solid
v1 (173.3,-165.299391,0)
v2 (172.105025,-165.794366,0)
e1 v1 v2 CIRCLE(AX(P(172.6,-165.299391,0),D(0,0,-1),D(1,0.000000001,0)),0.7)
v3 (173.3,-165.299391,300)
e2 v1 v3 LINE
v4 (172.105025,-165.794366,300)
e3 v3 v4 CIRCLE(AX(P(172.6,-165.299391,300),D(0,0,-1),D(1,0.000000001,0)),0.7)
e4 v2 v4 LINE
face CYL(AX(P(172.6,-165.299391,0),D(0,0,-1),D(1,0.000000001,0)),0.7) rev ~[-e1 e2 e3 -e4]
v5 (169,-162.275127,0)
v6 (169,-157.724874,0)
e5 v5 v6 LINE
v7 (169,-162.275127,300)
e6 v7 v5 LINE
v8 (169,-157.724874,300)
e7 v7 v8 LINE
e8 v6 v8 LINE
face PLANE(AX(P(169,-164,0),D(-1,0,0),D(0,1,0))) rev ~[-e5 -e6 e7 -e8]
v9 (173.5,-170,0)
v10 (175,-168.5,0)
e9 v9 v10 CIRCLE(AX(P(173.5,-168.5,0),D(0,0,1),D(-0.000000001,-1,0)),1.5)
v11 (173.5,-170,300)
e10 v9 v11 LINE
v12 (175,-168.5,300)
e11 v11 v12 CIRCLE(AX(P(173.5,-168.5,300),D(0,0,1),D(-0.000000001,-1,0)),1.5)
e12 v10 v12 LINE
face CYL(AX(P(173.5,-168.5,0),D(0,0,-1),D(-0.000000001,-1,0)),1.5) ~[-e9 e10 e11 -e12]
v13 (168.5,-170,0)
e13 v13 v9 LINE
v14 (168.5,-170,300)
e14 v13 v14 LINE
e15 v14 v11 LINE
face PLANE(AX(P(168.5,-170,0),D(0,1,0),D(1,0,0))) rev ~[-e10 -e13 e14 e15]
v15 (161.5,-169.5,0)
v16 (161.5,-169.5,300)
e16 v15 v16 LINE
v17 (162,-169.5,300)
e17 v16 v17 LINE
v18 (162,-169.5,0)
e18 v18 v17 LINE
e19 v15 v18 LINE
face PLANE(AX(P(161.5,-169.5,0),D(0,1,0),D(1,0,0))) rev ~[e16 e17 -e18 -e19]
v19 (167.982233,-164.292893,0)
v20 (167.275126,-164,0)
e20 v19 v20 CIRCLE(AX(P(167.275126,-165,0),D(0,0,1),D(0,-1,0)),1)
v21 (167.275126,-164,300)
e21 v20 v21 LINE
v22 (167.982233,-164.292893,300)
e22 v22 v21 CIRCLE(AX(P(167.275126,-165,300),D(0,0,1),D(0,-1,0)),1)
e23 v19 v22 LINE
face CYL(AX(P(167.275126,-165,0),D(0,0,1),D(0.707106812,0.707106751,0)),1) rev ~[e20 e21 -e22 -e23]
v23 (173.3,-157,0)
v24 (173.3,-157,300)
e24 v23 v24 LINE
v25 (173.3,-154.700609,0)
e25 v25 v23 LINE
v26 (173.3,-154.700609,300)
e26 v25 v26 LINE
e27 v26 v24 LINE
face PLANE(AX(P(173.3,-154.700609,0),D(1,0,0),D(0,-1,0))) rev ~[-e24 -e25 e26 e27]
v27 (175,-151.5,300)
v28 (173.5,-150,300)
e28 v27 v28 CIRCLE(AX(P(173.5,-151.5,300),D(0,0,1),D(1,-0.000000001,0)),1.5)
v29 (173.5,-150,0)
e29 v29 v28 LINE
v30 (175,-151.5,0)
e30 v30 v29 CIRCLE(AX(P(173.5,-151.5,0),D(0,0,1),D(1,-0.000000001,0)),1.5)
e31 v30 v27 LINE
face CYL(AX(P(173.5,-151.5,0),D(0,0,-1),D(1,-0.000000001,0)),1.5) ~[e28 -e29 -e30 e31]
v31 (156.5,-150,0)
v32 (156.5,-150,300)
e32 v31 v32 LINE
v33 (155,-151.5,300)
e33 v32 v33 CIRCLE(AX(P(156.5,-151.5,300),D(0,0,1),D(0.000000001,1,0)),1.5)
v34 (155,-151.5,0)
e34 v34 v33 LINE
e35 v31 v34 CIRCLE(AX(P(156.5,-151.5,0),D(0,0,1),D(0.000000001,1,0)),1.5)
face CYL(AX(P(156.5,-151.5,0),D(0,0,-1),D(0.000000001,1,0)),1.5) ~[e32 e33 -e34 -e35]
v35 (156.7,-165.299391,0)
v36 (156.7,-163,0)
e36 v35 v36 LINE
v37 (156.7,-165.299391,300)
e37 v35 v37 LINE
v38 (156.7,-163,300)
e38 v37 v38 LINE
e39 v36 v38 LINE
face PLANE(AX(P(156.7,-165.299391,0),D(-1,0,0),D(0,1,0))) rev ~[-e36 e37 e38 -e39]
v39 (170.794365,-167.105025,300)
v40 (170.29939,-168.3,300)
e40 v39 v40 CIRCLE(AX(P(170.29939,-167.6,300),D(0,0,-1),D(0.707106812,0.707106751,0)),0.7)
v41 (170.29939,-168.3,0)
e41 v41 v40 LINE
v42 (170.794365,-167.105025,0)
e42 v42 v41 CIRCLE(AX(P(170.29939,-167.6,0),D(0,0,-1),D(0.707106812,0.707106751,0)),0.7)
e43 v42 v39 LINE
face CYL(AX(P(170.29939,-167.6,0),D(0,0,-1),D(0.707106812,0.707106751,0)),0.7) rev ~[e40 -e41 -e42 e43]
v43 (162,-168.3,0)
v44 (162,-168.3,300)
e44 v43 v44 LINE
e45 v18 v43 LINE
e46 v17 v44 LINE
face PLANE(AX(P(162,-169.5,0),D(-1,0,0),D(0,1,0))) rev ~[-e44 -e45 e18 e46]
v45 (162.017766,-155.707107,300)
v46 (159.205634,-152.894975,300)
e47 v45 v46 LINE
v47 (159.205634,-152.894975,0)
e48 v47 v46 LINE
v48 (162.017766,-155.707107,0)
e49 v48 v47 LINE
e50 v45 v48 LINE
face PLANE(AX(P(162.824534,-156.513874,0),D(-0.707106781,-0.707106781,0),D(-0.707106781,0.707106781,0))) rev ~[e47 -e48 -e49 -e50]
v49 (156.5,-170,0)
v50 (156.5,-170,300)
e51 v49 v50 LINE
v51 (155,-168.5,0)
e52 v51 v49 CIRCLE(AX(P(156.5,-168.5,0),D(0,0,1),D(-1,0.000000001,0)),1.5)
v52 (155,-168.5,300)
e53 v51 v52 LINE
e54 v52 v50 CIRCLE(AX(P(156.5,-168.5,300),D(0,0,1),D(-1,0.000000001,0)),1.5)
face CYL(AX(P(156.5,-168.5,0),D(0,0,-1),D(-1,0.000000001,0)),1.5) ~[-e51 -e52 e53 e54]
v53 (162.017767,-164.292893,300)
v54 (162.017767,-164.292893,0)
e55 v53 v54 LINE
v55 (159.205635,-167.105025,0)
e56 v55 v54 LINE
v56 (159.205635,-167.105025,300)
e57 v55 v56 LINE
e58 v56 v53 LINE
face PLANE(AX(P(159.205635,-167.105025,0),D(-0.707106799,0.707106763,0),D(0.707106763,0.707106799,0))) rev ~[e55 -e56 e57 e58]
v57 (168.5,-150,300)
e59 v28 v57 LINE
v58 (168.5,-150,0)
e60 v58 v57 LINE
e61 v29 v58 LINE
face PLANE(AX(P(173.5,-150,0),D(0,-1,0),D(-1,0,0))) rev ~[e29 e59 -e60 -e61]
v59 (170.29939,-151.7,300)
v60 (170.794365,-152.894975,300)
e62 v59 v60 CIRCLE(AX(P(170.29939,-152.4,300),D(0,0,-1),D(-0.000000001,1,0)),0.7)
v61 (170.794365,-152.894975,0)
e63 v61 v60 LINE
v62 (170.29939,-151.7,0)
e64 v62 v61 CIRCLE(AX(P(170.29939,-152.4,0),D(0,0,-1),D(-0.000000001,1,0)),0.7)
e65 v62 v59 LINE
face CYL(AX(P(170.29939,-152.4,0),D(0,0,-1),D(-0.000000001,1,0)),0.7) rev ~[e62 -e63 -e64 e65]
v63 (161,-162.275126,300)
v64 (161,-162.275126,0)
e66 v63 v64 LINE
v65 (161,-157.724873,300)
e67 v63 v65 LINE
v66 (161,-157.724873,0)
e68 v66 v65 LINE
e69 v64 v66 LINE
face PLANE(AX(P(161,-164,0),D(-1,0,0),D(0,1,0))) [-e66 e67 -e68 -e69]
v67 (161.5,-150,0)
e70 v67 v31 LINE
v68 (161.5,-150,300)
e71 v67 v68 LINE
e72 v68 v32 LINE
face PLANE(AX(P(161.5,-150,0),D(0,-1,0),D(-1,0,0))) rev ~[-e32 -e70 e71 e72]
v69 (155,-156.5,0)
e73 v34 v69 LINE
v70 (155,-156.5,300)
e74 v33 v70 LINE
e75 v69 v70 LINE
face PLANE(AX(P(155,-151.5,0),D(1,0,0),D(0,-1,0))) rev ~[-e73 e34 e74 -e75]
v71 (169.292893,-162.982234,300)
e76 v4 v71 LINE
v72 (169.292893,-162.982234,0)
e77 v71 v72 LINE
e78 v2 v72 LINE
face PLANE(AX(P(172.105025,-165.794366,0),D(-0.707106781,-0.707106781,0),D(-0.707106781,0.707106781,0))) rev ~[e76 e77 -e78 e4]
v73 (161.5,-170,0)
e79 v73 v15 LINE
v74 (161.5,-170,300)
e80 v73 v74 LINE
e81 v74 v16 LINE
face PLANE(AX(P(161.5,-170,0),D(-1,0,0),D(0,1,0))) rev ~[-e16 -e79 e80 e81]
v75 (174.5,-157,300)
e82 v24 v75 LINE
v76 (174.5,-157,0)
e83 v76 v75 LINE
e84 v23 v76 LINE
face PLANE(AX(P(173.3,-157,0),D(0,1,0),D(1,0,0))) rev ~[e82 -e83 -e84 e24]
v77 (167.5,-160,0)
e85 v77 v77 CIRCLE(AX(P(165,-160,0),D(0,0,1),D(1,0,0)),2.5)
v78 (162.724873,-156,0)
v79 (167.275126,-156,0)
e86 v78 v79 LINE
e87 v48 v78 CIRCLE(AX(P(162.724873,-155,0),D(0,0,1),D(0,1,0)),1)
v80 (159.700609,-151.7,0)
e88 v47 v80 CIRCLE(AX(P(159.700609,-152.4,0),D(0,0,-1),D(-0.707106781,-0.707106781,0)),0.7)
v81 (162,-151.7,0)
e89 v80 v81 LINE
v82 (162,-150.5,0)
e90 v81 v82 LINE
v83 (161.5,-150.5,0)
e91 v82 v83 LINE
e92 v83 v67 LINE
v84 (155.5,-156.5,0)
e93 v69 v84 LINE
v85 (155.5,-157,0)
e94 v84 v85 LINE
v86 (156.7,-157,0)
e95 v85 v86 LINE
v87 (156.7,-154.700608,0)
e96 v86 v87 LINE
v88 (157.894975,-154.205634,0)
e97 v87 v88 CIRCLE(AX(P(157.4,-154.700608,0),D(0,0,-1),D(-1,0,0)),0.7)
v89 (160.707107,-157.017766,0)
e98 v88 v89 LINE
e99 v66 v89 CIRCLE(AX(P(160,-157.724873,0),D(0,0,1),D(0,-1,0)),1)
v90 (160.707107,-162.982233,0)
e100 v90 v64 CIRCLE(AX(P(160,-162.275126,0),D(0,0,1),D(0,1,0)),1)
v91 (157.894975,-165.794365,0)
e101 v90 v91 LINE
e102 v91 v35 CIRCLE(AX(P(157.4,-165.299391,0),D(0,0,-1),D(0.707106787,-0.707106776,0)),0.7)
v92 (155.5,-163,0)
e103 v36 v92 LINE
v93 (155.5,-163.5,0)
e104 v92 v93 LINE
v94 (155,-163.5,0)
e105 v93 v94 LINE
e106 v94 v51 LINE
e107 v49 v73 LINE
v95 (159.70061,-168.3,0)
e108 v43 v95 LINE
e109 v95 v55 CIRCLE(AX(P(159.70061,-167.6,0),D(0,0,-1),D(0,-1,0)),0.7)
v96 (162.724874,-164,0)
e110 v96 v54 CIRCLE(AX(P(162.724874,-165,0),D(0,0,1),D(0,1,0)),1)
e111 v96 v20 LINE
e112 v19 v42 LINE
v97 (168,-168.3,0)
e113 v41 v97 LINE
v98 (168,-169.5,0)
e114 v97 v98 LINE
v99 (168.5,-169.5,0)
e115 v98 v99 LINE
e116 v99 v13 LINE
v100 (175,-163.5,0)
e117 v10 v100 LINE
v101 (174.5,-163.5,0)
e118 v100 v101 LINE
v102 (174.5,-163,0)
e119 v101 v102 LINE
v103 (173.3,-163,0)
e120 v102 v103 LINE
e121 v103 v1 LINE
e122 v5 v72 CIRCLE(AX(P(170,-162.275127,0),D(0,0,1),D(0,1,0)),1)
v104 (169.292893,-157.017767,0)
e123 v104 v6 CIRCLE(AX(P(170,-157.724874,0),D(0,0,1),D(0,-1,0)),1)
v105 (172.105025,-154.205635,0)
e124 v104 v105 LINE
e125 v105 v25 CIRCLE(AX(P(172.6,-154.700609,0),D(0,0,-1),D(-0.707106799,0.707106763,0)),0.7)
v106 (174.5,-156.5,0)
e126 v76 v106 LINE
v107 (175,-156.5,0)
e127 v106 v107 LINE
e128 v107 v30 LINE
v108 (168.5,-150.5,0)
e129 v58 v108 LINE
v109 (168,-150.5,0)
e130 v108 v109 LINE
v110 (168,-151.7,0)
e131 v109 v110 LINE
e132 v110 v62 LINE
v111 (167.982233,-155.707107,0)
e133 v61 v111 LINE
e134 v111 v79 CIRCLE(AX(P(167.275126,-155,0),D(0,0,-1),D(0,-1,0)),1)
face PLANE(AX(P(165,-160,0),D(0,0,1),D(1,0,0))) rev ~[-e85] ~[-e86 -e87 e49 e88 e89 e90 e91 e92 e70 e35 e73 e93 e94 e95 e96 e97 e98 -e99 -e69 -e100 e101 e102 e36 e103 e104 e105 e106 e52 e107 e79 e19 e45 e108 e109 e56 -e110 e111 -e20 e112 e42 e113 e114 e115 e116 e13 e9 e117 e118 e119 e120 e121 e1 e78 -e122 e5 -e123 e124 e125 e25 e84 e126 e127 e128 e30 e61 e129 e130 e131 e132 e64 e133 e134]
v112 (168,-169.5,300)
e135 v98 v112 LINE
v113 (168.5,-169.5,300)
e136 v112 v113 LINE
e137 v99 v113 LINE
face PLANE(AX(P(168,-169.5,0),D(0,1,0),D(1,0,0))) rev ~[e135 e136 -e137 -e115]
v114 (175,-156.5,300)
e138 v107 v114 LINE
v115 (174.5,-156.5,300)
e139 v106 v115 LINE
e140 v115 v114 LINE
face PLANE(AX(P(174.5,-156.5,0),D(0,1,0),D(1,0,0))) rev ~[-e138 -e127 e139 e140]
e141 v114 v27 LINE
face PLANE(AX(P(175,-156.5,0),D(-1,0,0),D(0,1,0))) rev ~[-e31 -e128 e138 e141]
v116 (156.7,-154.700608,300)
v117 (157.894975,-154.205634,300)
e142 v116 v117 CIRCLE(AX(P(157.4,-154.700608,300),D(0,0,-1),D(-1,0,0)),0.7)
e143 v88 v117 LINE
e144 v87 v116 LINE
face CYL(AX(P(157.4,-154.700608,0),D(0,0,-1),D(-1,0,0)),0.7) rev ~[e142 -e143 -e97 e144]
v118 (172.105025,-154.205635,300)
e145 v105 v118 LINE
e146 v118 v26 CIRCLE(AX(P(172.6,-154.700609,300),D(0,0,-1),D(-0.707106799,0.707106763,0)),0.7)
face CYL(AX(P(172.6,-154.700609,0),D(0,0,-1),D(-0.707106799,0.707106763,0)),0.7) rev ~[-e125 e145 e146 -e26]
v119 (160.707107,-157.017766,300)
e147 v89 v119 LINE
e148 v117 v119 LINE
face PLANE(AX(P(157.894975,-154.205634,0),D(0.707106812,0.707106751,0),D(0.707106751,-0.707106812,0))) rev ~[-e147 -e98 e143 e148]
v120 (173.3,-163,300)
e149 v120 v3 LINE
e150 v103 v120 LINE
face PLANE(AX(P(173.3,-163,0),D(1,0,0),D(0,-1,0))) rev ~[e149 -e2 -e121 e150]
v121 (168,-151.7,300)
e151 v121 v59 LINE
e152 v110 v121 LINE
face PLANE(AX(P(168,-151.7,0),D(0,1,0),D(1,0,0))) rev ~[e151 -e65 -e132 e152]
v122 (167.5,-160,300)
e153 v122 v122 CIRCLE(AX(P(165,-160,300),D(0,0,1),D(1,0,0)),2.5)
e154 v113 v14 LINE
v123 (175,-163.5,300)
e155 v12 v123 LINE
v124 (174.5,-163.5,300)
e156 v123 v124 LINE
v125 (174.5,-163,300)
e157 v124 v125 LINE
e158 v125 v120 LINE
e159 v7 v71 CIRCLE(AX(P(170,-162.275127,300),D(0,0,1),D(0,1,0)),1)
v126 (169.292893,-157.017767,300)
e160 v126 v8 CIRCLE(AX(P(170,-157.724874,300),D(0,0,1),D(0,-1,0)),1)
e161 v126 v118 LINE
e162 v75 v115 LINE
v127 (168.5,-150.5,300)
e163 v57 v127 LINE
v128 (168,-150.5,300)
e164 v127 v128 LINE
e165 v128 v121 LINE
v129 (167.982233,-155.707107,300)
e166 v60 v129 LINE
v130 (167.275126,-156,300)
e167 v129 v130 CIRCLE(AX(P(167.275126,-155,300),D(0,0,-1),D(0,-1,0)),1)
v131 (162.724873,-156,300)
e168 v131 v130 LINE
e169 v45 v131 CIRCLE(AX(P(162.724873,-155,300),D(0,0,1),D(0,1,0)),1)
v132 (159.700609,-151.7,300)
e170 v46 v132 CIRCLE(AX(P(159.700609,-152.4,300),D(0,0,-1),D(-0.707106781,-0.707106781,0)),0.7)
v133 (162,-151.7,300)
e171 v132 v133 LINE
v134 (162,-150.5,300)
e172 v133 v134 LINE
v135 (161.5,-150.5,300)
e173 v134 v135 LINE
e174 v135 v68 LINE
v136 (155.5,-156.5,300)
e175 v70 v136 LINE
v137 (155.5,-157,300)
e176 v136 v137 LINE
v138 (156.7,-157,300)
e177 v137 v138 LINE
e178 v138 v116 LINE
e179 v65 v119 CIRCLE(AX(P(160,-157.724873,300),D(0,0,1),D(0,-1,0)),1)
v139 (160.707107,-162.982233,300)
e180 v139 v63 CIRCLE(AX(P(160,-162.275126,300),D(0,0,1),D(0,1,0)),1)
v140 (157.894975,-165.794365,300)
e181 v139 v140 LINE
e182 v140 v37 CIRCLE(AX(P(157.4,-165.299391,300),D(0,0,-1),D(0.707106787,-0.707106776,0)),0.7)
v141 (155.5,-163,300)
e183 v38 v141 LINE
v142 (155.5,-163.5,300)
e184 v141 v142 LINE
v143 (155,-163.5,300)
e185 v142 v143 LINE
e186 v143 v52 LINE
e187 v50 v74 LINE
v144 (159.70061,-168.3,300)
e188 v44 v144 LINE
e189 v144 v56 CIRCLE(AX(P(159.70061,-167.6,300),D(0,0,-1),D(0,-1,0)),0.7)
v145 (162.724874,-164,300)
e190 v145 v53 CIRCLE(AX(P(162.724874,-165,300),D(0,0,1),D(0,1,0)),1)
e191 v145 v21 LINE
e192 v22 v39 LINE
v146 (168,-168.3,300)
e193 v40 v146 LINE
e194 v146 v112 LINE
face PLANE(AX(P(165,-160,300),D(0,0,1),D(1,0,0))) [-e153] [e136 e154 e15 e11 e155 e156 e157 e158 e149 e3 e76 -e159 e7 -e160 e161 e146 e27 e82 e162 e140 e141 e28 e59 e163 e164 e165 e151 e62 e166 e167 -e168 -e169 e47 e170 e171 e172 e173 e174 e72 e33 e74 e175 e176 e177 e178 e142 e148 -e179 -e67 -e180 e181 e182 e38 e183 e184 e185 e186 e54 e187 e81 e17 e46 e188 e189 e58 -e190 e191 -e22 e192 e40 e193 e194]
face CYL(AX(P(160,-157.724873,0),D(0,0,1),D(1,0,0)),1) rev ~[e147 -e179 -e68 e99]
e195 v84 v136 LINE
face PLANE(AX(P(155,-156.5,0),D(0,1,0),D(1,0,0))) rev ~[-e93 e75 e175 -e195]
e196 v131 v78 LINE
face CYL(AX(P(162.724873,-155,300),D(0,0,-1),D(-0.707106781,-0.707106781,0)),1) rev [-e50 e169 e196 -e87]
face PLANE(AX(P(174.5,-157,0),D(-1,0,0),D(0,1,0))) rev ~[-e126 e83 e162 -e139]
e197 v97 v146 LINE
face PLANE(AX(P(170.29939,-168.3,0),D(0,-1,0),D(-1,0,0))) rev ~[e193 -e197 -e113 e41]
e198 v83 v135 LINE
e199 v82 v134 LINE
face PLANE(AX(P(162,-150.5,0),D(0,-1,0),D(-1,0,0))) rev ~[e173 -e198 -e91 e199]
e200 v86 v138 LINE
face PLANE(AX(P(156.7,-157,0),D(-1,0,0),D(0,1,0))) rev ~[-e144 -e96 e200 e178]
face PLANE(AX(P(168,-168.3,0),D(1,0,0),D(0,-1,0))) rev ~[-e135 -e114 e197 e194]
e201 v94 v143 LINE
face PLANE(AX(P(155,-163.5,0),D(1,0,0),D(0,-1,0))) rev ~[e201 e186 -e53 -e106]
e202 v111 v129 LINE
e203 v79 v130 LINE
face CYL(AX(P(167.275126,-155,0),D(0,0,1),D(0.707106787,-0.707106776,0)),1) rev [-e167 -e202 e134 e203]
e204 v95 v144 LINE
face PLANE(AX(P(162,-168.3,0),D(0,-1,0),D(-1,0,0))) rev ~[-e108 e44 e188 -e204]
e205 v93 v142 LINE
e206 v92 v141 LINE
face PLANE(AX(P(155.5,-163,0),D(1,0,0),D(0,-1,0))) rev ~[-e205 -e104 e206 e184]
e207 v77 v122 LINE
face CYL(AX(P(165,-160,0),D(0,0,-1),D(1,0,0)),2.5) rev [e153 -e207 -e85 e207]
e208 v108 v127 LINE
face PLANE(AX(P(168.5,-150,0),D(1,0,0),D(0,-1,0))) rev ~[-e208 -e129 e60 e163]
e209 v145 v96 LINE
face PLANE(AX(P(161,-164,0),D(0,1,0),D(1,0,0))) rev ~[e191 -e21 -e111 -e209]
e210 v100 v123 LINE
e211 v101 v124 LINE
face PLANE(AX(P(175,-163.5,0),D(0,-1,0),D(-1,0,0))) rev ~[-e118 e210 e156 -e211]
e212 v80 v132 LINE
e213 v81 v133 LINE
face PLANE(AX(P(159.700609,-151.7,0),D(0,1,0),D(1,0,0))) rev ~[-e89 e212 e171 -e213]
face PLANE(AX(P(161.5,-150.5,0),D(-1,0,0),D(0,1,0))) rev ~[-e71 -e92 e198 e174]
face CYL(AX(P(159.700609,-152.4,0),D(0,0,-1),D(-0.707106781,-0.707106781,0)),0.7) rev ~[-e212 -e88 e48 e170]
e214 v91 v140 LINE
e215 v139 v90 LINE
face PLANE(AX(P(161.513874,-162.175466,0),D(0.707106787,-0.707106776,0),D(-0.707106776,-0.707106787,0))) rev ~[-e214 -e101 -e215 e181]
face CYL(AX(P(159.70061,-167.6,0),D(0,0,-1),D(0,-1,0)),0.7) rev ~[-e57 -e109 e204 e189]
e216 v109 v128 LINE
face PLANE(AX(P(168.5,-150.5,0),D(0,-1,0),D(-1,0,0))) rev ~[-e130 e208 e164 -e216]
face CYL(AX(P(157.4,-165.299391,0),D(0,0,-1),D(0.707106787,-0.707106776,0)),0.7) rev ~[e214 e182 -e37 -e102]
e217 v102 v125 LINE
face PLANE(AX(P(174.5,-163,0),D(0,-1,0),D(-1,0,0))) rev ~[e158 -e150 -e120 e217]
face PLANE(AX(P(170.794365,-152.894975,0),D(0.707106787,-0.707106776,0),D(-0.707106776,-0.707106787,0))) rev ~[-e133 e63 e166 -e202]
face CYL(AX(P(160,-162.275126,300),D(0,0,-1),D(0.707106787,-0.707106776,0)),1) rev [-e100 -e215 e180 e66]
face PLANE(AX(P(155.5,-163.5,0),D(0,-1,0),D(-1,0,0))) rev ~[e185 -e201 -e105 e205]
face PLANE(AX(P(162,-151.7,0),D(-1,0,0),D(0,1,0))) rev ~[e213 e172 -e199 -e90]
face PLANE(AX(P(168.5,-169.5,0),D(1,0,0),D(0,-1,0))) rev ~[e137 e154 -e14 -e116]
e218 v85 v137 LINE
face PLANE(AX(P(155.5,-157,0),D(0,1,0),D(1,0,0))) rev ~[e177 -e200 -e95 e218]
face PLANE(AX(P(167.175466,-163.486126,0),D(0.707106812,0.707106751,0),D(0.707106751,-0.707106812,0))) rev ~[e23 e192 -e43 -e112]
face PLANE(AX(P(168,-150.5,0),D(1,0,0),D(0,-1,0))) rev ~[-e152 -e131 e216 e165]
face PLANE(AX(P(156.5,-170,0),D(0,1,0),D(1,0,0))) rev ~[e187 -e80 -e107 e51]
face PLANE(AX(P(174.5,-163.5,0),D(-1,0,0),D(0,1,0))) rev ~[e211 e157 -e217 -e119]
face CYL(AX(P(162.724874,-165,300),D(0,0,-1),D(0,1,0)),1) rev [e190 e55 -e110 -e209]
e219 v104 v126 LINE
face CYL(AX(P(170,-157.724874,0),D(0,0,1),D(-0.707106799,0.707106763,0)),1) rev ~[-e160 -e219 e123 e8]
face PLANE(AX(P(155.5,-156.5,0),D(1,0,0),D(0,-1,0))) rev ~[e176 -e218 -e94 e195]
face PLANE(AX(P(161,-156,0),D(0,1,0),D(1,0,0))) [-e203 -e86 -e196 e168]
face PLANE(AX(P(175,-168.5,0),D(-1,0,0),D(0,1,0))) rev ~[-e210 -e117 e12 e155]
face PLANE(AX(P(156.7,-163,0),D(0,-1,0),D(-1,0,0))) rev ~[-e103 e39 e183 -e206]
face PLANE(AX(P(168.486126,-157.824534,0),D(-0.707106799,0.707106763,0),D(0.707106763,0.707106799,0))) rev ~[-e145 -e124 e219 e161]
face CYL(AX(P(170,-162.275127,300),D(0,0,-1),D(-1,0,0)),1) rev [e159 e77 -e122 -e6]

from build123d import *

# Parameters (mm, degrees)
SKETCH_1_R      = 2.5
EXTRUDE_1_DEPTH = 300
EXTRUDE_START   = -300
SKETCH_2_W      = 8
SKETCH_2_H      = 8
SKETCH_2_R      = 2.5
EXTRUDE_2_DEPTH = 300
FILLET_1_R      = 1


with BuildPart() as part:
    # 草图1 → 凸台-拉伸1 (new body)
    with BuildSketch(Plane.XY):
        with BuildLine():
            Line((173.5, -150), (168.5, -150))
            Line((168.5, -150), (168.5, -150.5))
            Line((168.5, -150.5), (168, -150.5))
            Line((168, -150.5), (168, -151.70000008))
            Line((168, -151.70000008), (170.299390173, -151.70000008))
            ThreePointArc((170.299390173, -151.70000008), (170.94610582, -152.132121658), (170.794364905, -152.894974776))
            Line((170.794364905, -152.894974776), (167.175465502, -156.513874235))
            ThreePointArc((167.175465502, -156.513874235), (166.907085014, -156.653013019), (166.607569506, -156.61204781))
            ThreePointArc((166.607569506, -156.61204781), (165.969708818, -156.377547161), (165.299999837, -156.262019281))
            Line((165.299999837, -156.262019281), (165, -156.549999889))
            Line((165, -156.549999889), (164.700000163, -156.262019281))
            ThreePointArc((164.700000163, -156.262019281), (164.030290989, -156.377547213), (163.392430134, -156.61204798))
            ThreePointArc((163.392430134, -156.61204798), (163.092914607, -156.653013217), (162.824534093, -156.513874431))
            Line((162.824534093, -156.513874431), (159.205634442, -152.89497478))
            ThreePointArc((159.205634442, -152.89497478), (159.053893522, -152.13212166), (159.70060917, -151.70000008))
            Line((159.70060917, -151.70000008), (162, -151.70000008))
            Line((162, -151.70000008), (162, -150.5))
            Line((162, -150.5), (161.500000104, -150.5))
            Line((161.500000104, -150.5), (161.500000104, -150))
            Line((161.500000104, -150), (156.500000104, -150))
            ThreePointArc((156.500000104, -150), (155.439339932, -150.439339828), (155.000000104, -151.5))
            Line((155.000000104, -151.5), (155.000000104, -156.5))
            Line((155.000000104, -156.5), (155.500000104, -156.5))
            Line((155.500000104, -156.5), (155.500000104, -157))
            Line((155.500000104, -157), (156.699999897, -157))
            Line((156.699999897, -157), (156.699999897, -154.700608431))
            ThreePointArc((156.699999897, -154.700608431), (157.132121491, -154.053892778), (157.894974619, -154.205633725))
            Line((157.894974619, -154.205633725), (161.513874525, -157.824533943))
            ThreePointArc((161.513874525, -157.824533943), (161.653013299, -158.092914462), (161.61204805, -158.392429988))
            ThreePointArc((161.61204805, -158.392429988), (161.377547255, -159.030290833), (161.262019293, -159.700000002))
            Line((161.262019293, -159.700000002), (161.550000032, -160))
            Line((161.550000032, -160), (161.262019293, -160.299999998))
            ThreePointArc((161.262019293, -160.299999998), (161.37754719, -160.969708925), (161.612047835, -161.607569559))
            ThreePointArc((161.612047835, -161.607569559), (161.653013049, -161.907085066), (161.513874269, -162.175465556))
            Line((161.513874269, -162.175465556), (157.894974601, -165.79436528))
            ThreePointArc((157.894974601, -165.79436528), (157.13212148, -165.946106205), (156.699999897, -165.299390557))
            Line((156.699999897, -165.299390557), (156.699999897, -163))
            Line((156.699999897, -163), (155.500000104, -163))
            Line((155.500000104, -163), (155.500000104, -163.5))
            Line((155.500000104, -163.5), (155.000000104, -163.5))
            Line((155.000000104, -163.5), (155.000000104, -168.5))
            ThreePointArc((155.000000104, -168.5), (155.439339932, -169.560660172), (156.500000104, -170))
            Line((156.500000104, -170), (161.500000104, -170))
            Line((161.500000104, -170), (161.500000104, -169.5))
            Line((161.500000104, -169.5), (162, -169.5))
            Line((162, -169.5), (162, -168.29999992))
            Line((162, -168.29999992), (159.700610052, -168.29999992))
            ThreePointArc((159.700610052, -168.29999992), (159.053894408, -167.867878348), (159.205635312, -167.105025232))
            Line((159.205635312, -167.105025232), (162.824534559, -163.486125803))
            ThreePointArc((162.824534559, -163.486125803), (163.092915044, -163.346987014), (163.392430553, -163.387952218))
            ThreePointArc((163.392430553, -163.387952218), (164.030291195, -163.622452842), (164.700000125, -163.737980716))
            Line((164.700000125, -163.737980716), (165, -163.450000078))
            Line((165, -163.450000078), (165.299999781, -163.737980724))
            ThreePointArc((165.299999781, -163.737980724), (165.969708906, -163.622452815), (166.60756972, -163.387952089))
            ThreePointArc((166.60756972, -163.387952089), (166.907085249, -163.346986865), (167.175465757, -163.486125663))
            Line((167.175465757, -163.486125663), (170.794365024, -167.105025241))
            ThreePointArc((170.794365024, -167.105025241), (170.946105917, -167.867878353), (170.299390275, -168.29999992))
            Line((170.299390275, -168.29999992), (168, -168.29999992))
            Line((168, -168.29999992), (168, -169.5))
            Line((168, -169.5), (168.5, -169.5))
            Line((168.5, -169.5), (168.5, -170))
            Line((168.5, -170), (173.5, -170))
            ThreePointArc((173.5, -170), (174.560660172, -169.560660172), (175, -168.5))
            Line((175, -168.5), (175, -163.5))
            Line((175, -163.5), (174.499999896, -163.5))
            Line((174.499999896, -163.5), (174.499999896, -163))
            Line((174.499999896, -163), (173.300000103, -163))
            Line((173.300000103, -163), (173.300000103, -165.299391013))
            ThreePointArc((173.300000103, -165.299391013), (172.867878523, -165.946106661), (172.105025403, -165.794365741))
            Line((172.105025403, -165.794365741), (168.486125569, -162.175465907))
            ThreePointArc((168.486125569, -162.175465907), (168.346986783, -161.907085393), (168.38795202, -161.607569866))
            ThreePointArc((168.38795202, -161.607569866), (168.622452774, -160.969709062), (168.737980711, -160.299999942))
            Line((168.737980711, -160.299999942), (168.450000002, -160))
            Line((168.450000002, -160), (168.73798071, -159.70000004))
            ThreePointArc((168.73798071, -159.70000004), (168.622452807, -159.030291062), (168.387952137, -158.392430382))
            ThreePointArc((168.387952137, -158.392430382), (168.346986918, -158.092914876), (168.486125693, -157.824534383))
            Line((168.486125693, -157.824534383), (172.10502539, -154.205634503))
            ThreePointArc((172.10502539, -154.205634503), (172.867878514, -154.053893567), (173.300000103, -154.700609218))
            Line((173.300000103, -154.700609218), (173.300000103, -157))
            Line((173.300000103, -157), (174.499999896, -157))
            Line((174.499999896, -157), (174.499999896, -156.5))
            Line((174.499999896, -156.5), (175, -156.5))
            Line((175, -156.5), (175, -151.5))
            ThreePointArc((175, -151.5), (174.560660172, -150.439339828), (173.5, -150))
        make_face()
        with Locations((165, -160)):
            Circle(SKETCH_1_R, mode=Mode.SUBTRACT)
    extrude(amount=EXTRUDE_1_DEPTH)

    # 草图2 → 凸台-拉伸2 (add)
    with BuildSketch(Plane.XY.offset(300).offset(EXTRUDE_START)):
        with Locations((165, -160)):
            Rectangle(SKETCH_2_W, SKETCH_2_H)
        with Locations((165, -160)):
            Circle(SKETCH_2_R, mode=Mode.SUBTRACT)
    extrude(amount=EXTRUDE_2_DEPTH)

    # 圆角1
    fillet_1_edges = [part.edges().sort_by_distance(p)[0] for p in [
        (169, -157.31066005, 150),
        (167.68934005, -164, 150),
        (161, -162.689339833, 150),
        (162.310659662, -156, 150),
        (167.689339729, -156, 150),
        (161, -157.310659374, 150),
        (162.310660387, -164, 150),
        (169, -162.689340338, 150),
    ]]
    fillet(fillet_1_edges, radius=FILLET_1_R)


solid = part.part
